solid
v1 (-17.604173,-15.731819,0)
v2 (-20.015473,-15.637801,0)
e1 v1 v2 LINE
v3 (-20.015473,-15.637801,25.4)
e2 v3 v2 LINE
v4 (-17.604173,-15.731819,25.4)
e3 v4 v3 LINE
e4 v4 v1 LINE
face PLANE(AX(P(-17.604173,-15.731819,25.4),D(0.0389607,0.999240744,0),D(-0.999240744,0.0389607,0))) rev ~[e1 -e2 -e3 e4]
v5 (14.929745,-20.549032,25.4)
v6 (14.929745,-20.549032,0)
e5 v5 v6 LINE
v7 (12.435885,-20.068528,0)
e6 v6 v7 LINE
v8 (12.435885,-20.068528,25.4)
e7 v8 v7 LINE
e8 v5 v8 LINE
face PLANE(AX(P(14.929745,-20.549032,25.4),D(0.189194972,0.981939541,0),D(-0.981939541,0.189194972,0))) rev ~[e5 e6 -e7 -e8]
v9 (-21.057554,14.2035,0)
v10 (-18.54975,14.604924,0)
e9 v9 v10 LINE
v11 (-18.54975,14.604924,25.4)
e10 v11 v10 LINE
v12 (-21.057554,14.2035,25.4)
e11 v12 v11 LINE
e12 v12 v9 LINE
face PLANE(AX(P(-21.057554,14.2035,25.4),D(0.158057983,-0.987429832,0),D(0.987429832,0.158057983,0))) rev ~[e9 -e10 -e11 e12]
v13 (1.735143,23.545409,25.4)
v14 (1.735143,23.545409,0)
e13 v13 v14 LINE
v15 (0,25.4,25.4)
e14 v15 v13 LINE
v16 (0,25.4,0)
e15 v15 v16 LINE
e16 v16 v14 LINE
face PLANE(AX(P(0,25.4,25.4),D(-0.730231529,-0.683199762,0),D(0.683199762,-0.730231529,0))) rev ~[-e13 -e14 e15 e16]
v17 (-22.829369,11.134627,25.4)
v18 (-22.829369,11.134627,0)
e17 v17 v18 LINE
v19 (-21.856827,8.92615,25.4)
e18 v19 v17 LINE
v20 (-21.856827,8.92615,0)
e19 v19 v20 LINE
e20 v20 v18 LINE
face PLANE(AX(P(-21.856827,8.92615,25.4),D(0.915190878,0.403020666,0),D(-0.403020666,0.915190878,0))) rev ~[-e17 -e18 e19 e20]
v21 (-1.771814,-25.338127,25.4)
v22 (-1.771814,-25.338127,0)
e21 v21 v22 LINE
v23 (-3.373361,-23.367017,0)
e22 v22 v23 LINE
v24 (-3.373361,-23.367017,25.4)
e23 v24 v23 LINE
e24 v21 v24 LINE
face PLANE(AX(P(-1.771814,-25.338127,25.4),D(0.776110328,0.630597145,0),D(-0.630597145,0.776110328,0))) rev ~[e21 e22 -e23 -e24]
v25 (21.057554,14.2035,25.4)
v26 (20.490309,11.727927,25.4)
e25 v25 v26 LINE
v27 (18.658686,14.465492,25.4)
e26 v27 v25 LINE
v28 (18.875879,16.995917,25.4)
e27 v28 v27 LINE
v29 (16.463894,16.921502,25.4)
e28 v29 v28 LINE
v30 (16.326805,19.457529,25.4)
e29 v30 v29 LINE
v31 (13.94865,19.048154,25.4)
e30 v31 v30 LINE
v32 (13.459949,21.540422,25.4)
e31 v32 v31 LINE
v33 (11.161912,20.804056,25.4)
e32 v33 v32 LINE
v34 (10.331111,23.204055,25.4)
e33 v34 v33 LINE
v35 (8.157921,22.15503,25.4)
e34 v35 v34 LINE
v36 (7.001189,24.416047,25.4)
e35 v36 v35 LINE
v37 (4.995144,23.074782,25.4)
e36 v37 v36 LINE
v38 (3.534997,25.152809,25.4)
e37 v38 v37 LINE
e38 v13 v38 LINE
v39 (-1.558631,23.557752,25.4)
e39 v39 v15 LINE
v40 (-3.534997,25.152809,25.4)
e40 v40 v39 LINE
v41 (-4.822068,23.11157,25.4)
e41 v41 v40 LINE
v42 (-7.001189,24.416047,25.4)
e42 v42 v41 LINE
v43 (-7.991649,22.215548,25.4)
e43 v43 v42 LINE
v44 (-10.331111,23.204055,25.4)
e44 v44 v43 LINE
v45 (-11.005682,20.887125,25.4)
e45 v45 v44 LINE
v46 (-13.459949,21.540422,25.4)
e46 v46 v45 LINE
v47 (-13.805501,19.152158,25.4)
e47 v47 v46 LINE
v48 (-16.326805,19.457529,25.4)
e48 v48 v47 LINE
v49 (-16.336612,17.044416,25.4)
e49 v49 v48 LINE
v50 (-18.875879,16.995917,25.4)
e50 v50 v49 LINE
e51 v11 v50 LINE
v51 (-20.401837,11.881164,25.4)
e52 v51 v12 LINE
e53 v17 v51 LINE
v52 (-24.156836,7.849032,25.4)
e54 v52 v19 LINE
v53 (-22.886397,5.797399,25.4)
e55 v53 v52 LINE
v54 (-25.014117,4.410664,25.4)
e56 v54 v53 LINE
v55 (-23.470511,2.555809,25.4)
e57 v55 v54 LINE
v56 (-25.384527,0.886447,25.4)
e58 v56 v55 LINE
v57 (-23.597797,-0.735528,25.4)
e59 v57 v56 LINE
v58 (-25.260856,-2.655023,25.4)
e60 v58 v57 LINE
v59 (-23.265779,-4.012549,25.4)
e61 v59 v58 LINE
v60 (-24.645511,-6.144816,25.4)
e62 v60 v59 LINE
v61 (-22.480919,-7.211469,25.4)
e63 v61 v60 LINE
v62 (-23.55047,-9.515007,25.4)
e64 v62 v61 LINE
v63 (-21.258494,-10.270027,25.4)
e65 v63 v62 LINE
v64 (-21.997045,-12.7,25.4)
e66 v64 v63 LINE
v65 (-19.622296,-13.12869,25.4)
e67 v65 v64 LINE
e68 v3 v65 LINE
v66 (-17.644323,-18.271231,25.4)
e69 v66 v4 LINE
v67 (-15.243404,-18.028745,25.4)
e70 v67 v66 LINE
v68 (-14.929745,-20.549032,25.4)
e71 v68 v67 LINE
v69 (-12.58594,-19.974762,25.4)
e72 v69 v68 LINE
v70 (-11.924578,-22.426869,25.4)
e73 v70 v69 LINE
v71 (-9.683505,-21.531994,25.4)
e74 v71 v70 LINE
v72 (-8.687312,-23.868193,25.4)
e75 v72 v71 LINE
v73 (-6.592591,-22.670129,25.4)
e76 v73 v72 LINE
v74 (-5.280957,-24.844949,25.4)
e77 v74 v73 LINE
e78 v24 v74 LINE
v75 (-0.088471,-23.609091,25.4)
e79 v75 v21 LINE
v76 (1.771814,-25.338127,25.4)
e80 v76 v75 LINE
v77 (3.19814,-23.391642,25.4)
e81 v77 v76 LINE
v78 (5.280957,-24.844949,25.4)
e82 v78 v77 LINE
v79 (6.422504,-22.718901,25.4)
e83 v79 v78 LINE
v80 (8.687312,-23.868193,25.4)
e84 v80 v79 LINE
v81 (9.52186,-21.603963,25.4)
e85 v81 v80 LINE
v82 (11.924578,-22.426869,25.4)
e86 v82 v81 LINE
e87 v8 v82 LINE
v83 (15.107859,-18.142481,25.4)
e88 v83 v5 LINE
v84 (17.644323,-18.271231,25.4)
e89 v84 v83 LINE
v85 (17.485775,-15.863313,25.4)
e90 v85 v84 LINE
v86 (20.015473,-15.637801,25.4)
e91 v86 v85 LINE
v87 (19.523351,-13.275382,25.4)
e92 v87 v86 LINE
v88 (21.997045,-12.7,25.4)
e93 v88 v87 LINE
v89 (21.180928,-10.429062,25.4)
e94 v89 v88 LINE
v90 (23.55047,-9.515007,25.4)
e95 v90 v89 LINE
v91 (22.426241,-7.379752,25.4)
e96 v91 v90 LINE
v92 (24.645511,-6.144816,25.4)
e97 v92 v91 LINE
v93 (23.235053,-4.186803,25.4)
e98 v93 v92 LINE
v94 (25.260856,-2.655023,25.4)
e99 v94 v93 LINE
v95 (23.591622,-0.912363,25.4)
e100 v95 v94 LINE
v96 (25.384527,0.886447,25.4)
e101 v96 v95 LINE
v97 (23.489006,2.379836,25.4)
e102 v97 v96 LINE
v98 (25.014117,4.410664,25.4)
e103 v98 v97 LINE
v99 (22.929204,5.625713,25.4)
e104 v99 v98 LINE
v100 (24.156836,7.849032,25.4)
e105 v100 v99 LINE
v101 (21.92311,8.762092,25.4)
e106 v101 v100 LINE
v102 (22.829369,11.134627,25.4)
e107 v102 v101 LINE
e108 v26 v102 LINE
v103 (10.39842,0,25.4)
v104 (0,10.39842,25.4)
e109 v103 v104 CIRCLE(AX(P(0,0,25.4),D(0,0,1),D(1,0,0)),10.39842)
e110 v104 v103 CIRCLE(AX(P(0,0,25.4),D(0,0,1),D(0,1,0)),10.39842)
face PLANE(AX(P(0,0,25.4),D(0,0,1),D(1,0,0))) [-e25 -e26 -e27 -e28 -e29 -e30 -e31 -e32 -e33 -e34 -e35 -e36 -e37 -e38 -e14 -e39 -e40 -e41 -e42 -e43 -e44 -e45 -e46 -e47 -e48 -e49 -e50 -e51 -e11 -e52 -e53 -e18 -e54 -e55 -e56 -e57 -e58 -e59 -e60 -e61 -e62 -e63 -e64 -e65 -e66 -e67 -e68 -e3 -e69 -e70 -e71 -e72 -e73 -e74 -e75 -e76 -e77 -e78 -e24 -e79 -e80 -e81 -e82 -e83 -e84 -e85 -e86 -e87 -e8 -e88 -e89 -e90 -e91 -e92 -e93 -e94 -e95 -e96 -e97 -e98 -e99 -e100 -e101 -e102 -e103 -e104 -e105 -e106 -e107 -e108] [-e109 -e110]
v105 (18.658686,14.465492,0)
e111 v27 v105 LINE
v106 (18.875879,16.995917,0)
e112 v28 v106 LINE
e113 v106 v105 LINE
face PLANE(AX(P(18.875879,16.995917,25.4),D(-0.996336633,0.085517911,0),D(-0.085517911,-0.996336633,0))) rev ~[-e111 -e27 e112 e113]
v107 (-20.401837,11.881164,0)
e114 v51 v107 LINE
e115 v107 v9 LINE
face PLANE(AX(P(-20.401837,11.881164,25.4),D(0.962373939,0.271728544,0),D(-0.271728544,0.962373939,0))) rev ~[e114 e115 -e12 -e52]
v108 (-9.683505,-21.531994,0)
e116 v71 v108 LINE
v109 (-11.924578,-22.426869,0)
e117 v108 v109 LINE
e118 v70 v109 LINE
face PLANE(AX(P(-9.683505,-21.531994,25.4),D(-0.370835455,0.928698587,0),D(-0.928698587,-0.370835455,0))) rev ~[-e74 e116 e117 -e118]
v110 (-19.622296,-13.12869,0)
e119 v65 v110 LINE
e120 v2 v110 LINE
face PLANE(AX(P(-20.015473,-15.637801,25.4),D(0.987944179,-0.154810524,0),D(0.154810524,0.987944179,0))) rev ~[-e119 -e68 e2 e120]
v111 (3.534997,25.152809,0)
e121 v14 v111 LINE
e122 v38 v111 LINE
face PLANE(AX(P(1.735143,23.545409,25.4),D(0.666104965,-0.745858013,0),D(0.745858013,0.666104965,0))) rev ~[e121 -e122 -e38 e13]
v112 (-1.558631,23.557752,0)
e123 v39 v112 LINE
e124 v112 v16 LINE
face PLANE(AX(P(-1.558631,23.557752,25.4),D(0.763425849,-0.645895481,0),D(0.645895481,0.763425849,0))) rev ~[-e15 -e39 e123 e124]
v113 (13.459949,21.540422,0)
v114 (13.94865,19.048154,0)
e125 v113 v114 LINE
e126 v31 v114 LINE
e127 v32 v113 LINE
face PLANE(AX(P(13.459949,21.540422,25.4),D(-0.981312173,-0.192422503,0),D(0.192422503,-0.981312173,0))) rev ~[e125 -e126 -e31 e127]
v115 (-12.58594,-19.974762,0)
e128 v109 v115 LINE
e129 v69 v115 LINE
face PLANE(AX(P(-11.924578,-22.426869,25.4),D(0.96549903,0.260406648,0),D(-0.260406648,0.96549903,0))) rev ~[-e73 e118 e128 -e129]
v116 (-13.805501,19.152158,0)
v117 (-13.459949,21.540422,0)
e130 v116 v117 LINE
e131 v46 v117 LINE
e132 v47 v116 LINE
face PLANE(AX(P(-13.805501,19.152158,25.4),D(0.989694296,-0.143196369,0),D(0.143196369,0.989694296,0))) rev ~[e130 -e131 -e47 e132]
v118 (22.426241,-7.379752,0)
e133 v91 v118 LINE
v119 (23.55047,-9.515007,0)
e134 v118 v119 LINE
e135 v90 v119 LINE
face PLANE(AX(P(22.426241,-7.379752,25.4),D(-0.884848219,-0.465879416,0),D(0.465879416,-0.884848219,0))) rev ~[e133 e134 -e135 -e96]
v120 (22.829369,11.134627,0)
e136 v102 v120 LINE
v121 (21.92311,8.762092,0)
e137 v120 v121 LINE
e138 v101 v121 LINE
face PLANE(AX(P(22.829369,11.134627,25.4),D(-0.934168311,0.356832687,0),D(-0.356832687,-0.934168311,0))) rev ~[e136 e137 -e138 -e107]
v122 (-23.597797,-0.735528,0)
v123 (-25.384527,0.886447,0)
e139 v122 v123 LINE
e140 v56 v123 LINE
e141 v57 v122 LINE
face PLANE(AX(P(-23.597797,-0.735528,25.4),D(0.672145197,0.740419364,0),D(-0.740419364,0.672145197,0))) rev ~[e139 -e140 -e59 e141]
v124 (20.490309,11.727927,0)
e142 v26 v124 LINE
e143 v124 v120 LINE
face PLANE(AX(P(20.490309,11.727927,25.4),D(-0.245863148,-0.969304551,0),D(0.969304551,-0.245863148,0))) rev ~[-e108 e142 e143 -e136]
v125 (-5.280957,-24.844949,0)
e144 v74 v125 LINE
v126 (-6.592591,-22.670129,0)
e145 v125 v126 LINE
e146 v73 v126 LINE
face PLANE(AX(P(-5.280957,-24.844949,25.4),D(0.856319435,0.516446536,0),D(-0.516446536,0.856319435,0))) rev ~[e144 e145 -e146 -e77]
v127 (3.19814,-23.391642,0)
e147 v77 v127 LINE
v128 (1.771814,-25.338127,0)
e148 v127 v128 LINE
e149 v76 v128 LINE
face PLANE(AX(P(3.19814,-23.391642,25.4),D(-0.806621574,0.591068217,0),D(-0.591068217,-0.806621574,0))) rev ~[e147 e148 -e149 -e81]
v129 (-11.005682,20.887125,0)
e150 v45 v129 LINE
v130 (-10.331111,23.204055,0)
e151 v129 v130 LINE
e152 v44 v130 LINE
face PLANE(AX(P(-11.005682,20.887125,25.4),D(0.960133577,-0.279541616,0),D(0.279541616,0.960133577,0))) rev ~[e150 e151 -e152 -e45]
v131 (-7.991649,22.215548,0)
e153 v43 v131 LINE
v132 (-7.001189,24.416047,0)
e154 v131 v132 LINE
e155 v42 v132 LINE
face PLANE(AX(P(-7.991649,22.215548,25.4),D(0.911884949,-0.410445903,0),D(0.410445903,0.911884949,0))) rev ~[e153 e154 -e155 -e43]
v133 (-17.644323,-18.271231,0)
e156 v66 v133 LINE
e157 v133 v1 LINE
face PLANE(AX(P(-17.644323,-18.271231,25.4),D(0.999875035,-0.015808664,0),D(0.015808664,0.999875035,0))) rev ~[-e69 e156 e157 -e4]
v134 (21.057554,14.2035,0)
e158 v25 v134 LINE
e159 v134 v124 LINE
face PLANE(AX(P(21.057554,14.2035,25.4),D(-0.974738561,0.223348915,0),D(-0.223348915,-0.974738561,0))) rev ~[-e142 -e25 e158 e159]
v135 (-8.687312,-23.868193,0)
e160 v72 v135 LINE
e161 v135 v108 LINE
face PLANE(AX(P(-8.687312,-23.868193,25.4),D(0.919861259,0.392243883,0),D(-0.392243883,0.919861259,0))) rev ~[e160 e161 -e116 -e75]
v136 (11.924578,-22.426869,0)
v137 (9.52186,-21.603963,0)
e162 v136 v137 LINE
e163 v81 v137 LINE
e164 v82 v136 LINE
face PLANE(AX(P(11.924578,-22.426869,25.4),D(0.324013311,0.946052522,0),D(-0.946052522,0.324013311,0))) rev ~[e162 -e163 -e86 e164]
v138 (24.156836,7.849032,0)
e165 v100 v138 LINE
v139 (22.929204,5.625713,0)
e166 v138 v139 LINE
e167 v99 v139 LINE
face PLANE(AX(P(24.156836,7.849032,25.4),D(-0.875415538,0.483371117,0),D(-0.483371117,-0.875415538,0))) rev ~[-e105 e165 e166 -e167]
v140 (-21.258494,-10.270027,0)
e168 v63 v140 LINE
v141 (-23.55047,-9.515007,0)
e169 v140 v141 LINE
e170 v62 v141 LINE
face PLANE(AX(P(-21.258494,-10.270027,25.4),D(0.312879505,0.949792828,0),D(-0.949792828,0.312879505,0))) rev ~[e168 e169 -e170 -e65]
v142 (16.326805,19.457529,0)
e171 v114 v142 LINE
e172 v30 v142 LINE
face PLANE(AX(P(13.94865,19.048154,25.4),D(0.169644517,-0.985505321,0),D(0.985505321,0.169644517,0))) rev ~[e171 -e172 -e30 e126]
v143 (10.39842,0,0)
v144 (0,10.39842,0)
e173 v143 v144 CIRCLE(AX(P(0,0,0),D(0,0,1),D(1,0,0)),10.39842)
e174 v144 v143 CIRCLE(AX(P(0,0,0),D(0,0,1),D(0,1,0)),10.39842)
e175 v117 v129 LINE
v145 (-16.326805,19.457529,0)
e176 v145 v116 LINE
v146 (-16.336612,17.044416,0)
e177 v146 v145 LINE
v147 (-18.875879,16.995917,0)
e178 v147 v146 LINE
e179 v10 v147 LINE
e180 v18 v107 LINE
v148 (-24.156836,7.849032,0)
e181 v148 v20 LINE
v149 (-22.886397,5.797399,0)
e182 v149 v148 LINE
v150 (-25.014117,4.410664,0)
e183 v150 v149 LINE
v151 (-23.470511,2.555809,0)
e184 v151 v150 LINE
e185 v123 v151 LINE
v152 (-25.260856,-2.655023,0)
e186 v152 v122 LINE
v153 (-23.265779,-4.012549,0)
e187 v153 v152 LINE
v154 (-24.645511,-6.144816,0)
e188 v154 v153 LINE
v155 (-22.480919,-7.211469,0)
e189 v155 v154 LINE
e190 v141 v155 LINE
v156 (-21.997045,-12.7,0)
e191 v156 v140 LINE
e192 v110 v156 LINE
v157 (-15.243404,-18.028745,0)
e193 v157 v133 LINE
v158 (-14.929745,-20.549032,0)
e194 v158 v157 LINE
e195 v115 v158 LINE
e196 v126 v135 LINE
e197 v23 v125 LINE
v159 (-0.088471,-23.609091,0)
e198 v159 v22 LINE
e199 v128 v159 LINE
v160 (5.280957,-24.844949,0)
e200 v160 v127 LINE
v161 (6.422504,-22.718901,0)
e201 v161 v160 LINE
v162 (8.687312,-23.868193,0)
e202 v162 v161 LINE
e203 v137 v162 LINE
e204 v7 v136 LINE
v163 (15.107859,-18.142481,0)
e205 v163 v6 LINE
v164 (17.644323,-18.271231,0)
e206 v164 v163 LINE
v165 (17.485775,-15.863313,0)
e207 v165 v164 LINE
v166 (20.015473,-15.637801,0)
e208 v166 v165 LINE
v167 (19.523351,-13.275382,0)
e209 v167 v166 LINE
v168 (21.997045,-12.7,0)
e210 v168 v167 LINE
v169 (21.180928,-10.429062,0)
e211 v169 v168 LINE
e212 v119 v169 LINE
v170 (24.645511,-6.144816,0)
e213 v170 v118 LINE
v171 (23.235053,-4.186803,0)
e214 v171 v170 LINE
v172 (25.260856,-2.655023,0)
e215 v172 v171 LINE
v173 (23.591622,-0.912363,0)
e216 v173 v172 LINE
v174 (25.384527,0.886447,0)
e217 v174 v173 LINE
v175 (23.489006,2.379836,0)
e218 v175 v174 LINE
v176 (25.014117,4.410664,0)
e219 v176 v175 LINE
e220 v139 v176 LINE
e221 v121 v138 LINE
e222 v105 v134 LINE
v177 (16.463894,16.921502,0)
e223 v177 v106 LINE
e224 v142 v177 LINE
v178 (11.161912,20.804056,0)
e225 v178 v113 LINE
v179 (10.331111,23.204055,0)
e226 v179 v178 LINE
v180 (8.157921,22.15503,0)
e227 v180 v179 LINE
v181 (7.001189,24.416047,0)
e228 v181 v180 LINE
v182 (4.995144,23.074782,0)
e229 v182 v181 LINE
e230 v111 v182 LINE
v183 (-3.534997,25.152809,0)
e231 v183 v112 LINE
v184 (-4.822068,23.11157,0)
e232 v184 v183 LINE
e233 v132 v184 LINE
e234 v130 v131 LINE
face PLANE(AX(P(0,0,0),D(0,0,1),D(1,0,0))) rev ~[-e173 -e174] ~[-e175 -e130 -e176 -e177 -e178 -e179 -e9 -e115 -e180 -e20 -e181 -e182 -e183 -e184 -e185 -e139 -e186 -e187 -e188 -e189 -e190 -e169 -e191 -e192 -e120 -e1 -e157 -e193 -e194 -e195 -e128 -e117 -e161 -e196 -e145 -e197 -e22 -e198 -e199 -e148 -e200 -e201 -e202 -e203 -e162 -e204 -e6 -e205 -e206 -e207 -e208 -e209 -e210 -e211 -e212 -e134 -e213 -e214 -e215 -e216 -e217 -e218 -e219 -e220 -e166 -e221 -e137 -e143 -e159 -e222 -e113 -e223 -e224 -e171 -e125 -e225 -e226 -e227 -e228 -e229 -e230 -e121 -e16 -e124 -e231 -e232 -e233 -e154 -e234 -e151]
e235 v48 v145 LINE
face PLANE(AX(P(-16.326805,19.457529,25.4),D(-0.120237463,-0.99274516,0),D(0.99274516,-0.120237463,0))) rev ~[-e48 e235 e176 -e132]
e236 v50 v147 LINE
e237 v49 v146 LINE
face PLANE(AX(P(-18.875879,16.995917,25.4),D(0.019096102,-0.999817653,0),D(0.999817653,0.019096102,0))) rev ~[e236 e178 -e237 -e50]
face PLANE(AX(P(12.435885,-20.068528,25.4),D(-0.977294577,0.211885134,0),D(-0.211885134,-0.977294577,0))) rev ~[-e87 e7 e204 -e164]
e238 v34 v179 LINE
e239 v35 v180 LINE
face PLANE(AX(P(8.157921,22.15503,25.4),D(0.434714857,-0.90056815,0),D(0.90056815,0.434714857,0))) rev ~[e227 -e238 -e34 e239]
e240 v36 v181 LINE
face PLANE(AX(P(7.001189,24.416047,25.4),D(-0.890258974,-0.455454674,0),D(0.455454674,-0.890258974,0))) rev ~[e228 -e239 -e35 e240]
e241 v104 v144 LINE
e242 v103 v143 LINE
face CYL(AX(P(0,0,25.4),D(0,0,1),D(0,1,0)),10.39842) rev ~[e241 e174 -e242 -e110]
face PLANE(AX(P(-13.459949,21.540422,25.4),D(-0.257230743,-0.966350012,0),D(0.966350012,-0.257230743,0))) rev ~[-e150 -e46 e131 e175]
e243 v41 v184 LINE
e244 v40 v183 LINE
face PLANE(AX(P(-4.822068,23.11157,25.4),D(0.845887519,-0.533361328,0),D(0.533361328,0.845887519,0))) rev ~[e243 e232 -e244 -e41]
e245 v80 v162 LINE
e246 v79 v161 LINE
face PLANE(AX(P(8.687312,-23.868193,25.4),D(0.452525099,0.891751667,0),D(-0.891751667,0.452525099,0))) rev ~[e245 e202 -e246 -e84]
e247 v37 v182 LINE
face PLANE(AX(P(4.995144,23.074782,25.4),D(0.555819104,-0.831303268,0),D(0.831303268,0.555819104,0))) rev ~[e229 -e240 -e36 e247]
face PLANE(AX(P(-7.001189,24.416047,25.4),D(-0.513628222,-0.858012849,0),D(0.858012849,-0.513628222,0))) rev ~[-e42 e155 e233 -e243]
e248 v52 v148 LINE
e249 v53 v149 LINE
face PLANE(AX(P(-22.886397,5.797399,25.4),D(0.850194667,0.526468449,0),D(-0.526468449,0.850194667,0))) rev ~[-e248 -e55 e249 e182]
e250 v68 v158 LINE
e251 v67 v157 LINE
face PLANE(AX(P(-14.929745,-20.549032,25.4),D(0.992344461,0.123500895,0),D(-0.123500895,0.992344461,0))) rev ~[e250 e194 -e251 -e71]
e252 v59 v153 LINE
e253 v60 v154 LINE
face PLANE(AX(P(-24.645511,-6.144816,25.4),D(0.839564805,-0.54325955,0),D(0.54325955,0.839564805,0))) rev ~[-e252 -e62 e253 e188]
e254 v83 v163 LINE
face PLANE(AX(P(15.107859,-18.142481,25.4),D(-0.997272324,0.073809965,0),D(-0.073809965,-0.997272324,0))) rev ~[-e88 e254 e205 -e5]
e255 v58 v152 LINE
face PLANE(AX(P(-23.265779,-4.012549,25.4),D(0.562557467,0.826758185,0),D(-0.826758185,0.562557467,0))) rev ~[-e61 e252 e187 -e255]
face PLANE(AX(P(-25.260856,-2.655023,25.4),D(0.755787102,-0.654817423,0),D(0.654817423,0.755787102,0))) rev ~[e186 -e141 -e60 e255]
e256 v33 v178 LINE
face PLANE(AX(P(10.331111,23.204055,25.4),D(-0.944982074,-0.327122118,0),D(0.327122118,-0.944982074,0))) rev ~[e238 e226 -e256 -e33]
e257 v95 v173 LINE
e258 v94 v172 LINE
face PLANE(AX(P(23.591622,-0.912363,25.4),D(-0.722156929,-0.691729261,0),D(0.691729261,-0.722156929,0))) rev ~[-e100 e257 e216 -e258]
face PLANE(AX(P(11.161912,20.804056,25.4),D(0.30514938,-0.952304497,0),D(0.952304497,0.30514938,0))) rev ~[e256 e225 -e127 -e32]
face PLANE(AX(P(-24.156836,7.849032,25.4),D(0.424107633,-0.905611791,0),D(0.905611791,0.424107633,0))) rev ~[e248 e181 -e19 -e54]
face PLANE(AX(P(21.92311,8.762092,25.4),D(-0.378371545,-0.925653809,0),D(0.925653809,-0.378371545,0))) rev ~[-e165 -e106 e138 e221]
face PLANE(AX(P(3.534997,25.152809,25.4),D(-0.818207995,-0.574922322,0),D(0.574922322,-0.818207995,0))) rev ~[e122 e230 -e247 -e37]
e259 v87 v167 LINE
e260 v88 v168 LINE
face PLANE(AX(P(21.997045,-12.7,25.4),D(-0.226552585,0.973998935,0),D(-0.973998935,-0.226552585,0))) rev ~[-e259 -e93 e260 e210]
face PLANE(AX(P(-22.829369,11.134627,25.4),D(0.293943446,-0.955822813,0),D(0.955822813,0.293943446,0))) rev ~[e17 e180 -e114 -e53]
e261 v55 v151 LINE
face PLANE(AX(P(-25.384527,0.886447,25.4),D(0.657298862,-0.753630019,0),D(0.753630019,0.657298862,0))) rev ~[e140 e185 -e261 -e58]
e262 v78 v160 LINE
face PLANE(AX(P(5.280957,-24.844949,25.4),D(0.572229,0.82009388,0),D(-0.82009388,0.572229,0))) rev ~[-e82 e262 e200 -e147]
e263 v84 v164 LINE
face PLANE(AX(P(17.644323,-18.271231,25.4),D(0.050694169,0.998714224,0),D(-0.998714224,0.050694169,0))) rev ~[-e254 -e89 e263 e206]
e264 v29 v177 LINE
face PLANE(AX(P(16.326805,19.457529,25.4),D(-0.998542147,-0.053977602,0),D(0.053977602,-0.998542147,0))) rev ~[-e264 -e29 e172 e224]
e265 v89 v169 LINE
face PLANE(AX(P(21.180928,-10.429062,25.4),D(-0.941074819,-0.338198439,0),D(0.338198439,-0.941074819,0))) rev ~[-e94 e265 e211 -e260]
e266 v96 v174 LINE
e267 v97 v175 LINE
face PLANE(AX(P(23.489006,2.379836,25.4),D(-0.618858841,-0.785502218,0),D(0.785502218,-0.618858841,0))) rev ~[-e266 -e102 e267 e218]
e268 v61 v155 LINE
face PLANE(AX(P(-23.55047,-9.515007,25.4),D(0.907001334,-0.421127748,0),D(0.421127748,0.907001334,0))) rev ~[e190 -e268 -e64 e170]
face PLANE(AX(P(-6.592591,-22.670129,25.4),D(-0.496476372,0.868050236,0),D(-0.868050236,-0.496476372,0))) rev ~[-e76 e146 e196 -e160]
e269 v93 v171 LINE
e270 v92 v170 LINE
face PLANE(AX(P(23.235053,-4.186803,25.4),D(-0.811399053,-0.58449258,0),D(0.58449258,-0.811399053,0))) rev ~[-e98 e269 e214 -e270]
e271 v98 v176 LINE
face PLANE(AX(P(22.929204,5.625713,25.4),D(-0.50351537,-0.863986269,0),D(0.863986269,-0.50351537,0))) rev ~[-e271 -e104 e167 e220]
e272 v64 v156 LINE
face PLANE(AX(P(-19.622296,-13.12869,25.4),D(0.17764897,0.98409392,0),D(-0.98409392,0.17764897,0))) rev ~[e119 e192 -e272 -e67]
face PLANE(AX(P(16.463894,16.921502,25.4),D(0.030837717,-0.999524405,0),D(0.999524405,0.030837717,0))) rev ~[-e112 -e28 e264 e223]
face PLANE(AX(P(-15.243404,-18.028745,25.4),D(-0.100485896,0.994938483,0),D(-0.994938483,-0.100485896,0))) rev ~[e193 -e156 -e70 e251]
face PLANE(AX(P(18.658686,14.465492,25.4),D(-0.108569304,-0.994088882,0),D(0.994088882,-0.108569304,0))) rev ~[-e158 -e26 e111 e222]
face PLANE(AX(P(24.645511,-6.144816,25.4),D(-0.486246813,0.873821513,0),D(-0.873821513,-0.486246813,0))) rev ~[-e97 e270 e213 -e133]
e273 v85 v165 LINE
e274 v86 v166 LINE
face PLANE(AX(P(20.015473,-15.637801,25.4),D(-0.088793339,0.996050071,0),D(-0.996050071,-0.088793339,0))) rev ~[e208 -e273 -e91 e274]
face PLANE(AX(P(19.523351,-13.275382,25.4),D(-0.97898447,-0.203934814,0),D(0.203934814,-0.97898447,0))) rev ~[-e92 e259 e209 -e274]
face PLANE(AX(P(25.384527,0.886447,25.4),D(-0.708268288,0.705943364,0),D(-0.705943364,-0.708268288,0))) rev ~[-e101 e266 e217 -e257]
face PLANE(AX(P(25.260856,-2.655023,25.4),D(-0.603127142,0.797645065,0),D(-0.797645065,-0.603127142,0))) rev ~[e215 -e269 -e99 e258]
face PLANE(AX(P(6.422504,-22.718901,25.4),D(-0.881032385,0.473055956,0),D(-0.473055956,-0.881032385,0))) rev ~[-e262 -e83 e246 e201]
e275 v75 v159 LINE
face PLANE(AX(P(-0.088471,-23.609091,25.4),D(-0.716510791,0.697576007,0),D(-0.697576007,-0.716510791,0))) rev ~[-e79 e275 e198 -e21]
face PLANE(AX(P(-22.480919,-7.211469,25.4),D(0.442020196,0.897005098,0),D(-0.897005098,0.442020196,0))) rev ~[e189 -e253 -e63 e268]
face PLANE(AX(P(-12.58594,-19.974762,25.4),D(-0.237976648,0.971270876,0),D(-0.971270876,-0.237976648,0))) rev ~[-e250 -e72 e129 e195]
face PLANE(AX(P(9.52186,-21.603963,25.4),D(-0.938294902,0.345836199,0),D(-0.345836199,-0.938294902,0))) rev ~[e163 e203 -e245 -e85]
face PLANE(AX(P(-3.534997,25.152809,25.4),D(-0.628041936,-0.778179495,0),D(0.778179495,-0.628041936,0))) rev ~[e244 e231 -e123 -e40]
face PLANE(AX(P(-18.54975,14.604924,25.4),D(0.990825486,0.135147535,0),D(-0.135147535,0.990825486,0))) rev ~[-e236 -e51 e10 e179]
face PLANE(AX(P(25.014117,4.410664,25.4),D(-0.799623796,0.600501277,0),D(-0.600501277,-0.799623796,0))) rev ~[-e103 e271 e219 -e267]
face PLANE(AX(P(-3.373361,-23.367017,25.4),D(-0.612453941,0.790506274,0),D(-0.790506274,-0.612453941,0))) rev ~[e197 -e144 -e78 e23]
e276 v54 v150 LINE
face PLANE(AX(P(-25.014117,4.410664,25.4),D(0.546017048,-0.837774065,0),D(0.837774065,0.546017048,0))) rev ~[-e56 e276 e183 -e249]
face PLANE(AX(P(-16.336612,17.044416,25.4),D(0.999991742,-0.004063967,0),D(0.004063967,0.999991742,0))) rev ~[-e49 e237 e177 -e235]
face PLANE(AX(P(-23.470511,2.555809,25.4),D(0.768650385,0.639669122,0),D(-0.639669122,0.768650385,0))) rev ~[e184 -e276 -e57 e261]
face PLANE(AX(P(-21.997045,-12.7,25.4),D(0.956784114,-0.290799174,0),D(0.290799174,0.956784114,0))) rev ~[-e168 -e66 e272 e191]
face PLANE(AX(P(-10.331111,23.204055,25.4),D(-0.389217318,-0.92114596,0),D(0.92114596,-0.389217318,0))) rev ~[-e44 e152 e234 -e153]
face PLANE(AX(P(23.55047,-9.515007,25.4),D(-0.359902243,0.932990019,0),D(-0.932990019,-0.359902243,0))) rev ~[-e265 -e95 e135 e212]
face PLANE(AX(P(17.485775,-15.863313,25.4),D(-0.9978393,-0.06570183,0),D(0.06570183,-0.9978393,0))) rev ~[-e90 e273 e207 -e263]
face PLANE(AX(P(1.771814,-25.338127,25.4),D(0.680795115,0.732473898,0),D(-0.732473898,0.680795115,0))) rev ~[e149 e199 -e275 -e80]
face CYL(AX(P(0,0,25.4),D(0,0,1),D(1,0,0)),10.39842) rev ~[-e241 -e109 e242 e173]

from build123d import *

# Parameters (mm, degrees)
F0_R     = 25.4
F1_DEPTH = 25.4
F3_DEPTH = 25.4
F4_DEPTH = 25.4


with BuildPart() as f1:
    # F0 (on Top) → F1 (new body)
    with BuildSketch(Plane.XY):
        Circle(F0_R)
    extrude(amount=F1_DEPTH)

    # F2 (on face) → F3 (cut)
    with BuildSketch(Plane.XY.offset(25.4)):
        with BuildLine():
            Line((-3.3733606068, -23.3670165801), (-5.2809569468, -24.8449490586))
            ThreePointArc((-5.2809569468, -24.8449490586), (-3.5349967644, -25.152808946), (-1.7718144331, -25.3381268766))
            Line((-1.7718144331, -25.3381268766), (-3.3733606068, -23.3670165801))
        make_face()
        with BuildLine():
            Line((-0.0884711356, -23.6090914373), (-1.7718144331, -25.3381268766))
            ThreePointArc((-1.7718144331, -25.3381268766), (0, -25.4), (1.7718144331, -25.3381268766))
            Line((1.7718144331, -25.3381268766), (-0.0884711356, -23.6090914373))
        make_face()
        with BuildLine():
            ThreePointArc((1.7718144331, -25.3381268766), (3.5349967644, -25.152808946), (5.2809569468, -24.8449490586))
            Line((5.2809569468, -24.8449490586), (3.1981403256, -23.3916421847))
            Line((3.1981403256, -23.3916421847), (1.7718144331, -25.3381268766))
        make_face()
        with BuildLine():
            ThreePointArc((5.2809569468, -24.8449490586), (7.0011888378, -24.4160470768), (8.6873116405, -23.868192568))
            Line((8.6873116405, -23.868192568), (6.4225036232, -22.7189012245))
            Line((6.4225036232, -22.7189012245), (5.2809569468, -24.8449490586))
        make_face()
        with BuildLine():
            ThreePointArc((8.6873116405, -23.868192568), (10.3311107341, -23.2040546241), (11.9245776948, -22.4268688586))
            Line((11.9245776948, -22.4268688586), (9.5218601932, -21.6039626944))
            Line((9.5218601932, -21.6039626944), (8.6873116405, -23.868192568))
        make_face()
        with BuildLine():
            ThreePointArc((11.9245776948, -22.4268688586), (13.4599493115, -21.5404216424), (14.9297454082, -20.5490316571))
            Line((14.9297454082, -20.5490316571), (12.4358845856, -20.0685276045))
            Line((12.4358845856, -20.0685276045), (11.9245776948, -22.4268688586))
        make_face()
        with BuildLine():
            ThreePointArc((14.9297454082, -20.5490316571), (16.326805286, -19.4575288552), (17.6443226097, -18.2712309286))
            Line((17.6443226097, -18.2712309286), (15.1078586301, -18.1424814524))
            Line((15.1078586301, -18.1424814524), (14.9297454082, -20.5490316571))
        make_face()
        with BuildLine():
            ThreePointArc((17.6443226097, -18.2712309286), (18.8758785671, -16.9959174015), (20.0154731416, -15.6378014733))
            Line((20.0154731416, -15.6378014733), (17.4857753913, -15.8633125357))
            Line((17.4857753913, -15.8633125357), (17.6443226097, -18.2712309286))
        make_face()
        with BuildLine():
            ThreePointArc((20.0154731416, -15.6378014733), (21.0575543429, -14.2034997482), (21.9970452561, -12.7))
            Line((21.9970452561, -12.7), (19.5233514242, -13.2753822847))
            Line((19.5233514242, -13.2753822847), (20.0154731416, -15.6378014733))
        make_face()
        with BuildLine():
            ThreePointArc((21.9970452561, -12.7), (22.829368776, -11.1346271284), (23.550469906, -9.5150074728))
            Line((23.550469906, -9.5150074728), (21.1809276292, -10.429061818))
            Line((21.1809276292, -10.429061818), (21.9970452561, -12.7))
        make_face()
        with BuildLine():
            ThreePointArc((23.550469906, -9.5150074728), (24.1568355139, -7.8490316571), (24.6455114474, -6.1448161482))
            Line((24.6455114474, -6.1448161482), (22.4262411709, -7.3797515259))
            Line((22.4262411709, -7.3797515259), (23.550469906, -9.5150074728))
        make_face()
        with BuildLine():
            ThreePointArc((24.6455114474, -6.1448161482), (25.0141169265, -4.4106637127), (25.2608561424, -2.655022967))
            Line((25.2608561424, -2.655022967), (23.2350534376, -4.1868027647))
            Line((23.2350534376, -4.1868027647), (24.6455114474, -6.1448161482))
        make_face()
        with BuildLine():
            ThreePointArc((25.4, 0), (25.396131457, 0.4432911235), (25.3845270063, 0.8864472162))
            Line((25.3845270063, 0.8864472162), (23.5916218186, -0.9123626502))
            Line((23.5916218186, -0.9123626502), (25.2608561424, -2.655022967))
            ThreePointArc((25.2608561424, -2.655022967), (25.3651901828, -1.3293332886), (25.4, 0))
        make_face()
        with BuildLine():
            ThreePointArc((25.3845270063, 0.8864472162), (25.2608561424, 2.655022967), (25.0141169265, 4.4106637127))
            Line((25.0141169265, 4.4106637127), (23.489006116, 2.3798355656))
            Line((23.489006116, 2.3798355656), (25.3845270063, 0.8864472162))
        make_face()
        with BuildLine():
            ThreePointArc((25.0141169265, 4.4106637127), (24.6455114474, 6.1448161482), (24.1568355139, 7.8490316571))
            Line((24.1568355139, 7.8490316571), (22.9292036277, 5.6257129891))
            Line((22.9292036277, 5.6257129891), (25.0141169265, 4.4106637127))
        make_face()
        with BuildLine():
            ThreePointArc((24.1568355139, 7.8490316571), (23.550469906, 9.5150074728), (22.829368776, 11.1346271284))
            Line((22.829368776, 11.1346271284), (21.9231102724, 8.7620923084))
            Line((21.9231102724, 8.7620923084), (24.1568355139, 7.8490316571))
        make_face()
        with BuildLine():
            ThreePointArc((22.829368776, 11.1346271284), (21.9970452561, 12.7), (21.0575543429, 14.2034997482))
            Line((21.0575543429, 14.2034997482), (20.4903085128, 11.7279274677))
            Line((20.4903085128, 11.7279274677), (22.829368776, 11.1346271284))
        make_face()
        with BuildLine():
            ThreePointArc((21.0575543429, 14.2034997482), (20.0154731416, 15.6378014733), (18.8758785671, 16.9959174015))
            Line((18.8758785671, 16.9959174015), (18.6586862054, 14.4654918592))
            Line((18.6586862054, 14.4654918592), (21.0575543429, 14.2034997482))
        make_face()
        with BuildLine():
            ThreePointArc((18.8758785671, 16.9959174015), (17.6443226097, 18.2712309286), (16.326805286, 19.4575288552))
            Line((16.326805286, 19.4575288552), (16.4638937949, 16.9215019058))
            Line((16.4638937949, 16.9215019058), (18.8758785671, 16.9959174015))
        make_face()
        with BuildLine():
            ThreePointArc((16.326805286, 19.4575288552), (14.9297454082, 20.5490316571), (13.4599493115, 21.5404216424))
            Line((13.4599493115, 21.5404216424), (13.9486504191, 19.0481541658))
            Line((13.9486504191, 19.0481541658), (16.326805286, 19.4575288552))
        make_face()
        with BuildLine():
            ThreePointArc((13.4599493115, 21.5404216424), (11.9245776948, 22.4268688586), (10.3311107341, 23.2040546241))
            Line((10.3311107341, 23.2040546241), (11.1619124293, 20.8040557719))
            Line((11.1619124293, 20.8040557719), (13.4599493115, 21.5404216424))
        make_face()
        with BuildLine():
            ThreePointArc((10.3311107341, 23.2040546241), (8.6873116405, 23.868192568), (7.0011888378, 24.4160470768))
            Line((7.0011888378, 24.4160470768), (8.1579205105, 22.1550300966))
            Line((8.1579205105, 22.1550300966), (10.3311107341, 23.2040546241))
        make_face()
        with BuildLine():
            ThreePointArc((7.0011888378, 24.4160470768), (5.2809569468, 24.8449490586), (3.5349967644, 25.152808946))
            Line((3.5349967644, 25.152808946), (4.9951439484, 23.0747819615))
            Line((4.9951439484, 23.0747819615), (7.0011888378, 24.4160470768))
        make_face()
        with BuildLine():
            ThreePointArc((3.5349967644, 25.152808946), (1.7718144331, 25.3381268766), (0, 25.4))
            Line((0, 25.4), (1.7351425913, 23.5454094427))
            Line((1.7351425913, 23.5454094427), (3.5349967644, 25.152808946))
        make_face()
        with BuildLine():
            Line((-1.5586313426, 23.5577523116), (0, 25.4))
            ThreePointArc((0, 25.4), (-1.7718144331, 25.3381268766), (-3.5349967644, 25.152808946))
            Line((-3.5349967644, 25.152808946), (-1.5586313426, 23.5577523116))
        make_face()
        with BuildLine():
            Line((-4.8220682904, 23.1115703283), (-3.5349967644, 25.152808946))
            ThreePointArc((-3.5349967644, 25.152808946), (-5.2809569468, 24.8449490586), (-7.0011888378, 24.4160470768))
            Line((-7.0011888378, 24.4160470768), (-4.8220682904, 23.1115703283))
        make_face()
        with BuildLine():
            Line((-7.9916491639, 22.2155479176), (-7.0011888378, 24.4160470768))
            ThreePointArc((-7.0011888378, 24.4160470768), (-8.6873116405, 23.868192568), (-10.3311107341, 23.2040546241))
            Line((-10.3311107341, 23.2040546241), (-7.9916491639, 22.2155479176))
        make_face()
        with BuildLine():
            Line((-11.0056816768, 20.8871251365), (-10.3311107341, 23.2040546241))
            ThreePointArc((-10.3311107341, 23.2040546241), (-11.9245776948, 22.4268688586), (-13.4599493115, 21.5404216424))
            Line((-13.4599493115, 21.5404216424), (-11.0056816768, 20.8871251365))
        make_face()
        with BuildLine():
            Line((-13.8055011147, 19.1521582233), (-13.4599493115, 21.5404216424))
            ThreePointArc((-13.4599493115, 21.5404216424), (-14.9297454082, 20.5490316571), (-16.326805286, 19.4575288552))
            Line((-16.326805286, 19.4575288552), (-13.8055011147, 19.1521582233))
        make_face()
        with BuildLine():
            Line((-16.3366121768, 17.0444163356), (-16.326805286, 19.4575288552))
            ThreePointArc((-16.326805286, 19.4575288552), (-17.6443226097, 18.2712309286), (-18.8758785671, 16.9959174015))
            Line((-18.8758785671, 16.9959174015), (-16.3366121768, 17.0444163356))
        make_face()
        with BuildLine():
            Line((-18.5497496656, 14.6049242717), (-18.8758785671, 16.9959174015))
            ThreePointArc((-18.8758785671, 16.9959174015), (-20.0154731416, 15.6378014733), (-21.0575543429, 14.2034997482))
            Line((-21.0575543429, 14.2034997482), (-18.5497496656, 14.6049242717))
        make_face()
        with BuildLine():
            Line((-20.4018373772, 11.8811639696), (-21.0575543429, 14.2034997482))
            ThreePointArc((-21.0575543429, 14.2034997482), (-21.9970452561, 12.7), (-22.829368776, 11.1346271284))
            Line((-22.829368776, 11.1346271284), (-20.4018373772, 11.8811639696))
        make_face()
        with BuildLine():
            Line((-21.856826531, 8.9261503255), (-22.829368776, 11.1346271284))
            ThreePointArc((-22.829368776, 11.1346271284), (-23.550469906, 9.5150074728), (-24.1568355139, 7.8490316571))
            Line((-24.1568355139, 7.8490316571), (-21.856826531, 8.9261503255))
        make_face()
        with BuildLine():
            Line((-22.8863974181, 5.7973993187), (-24.1568355139, 7.8490316571))
            ThreePointArc((-24.1568355139, 7.8490316571), (-24.6455114474, 6.1448161482), (-25.0141169265, 4.4106637127))
            Line((-25.0141169265, 4.4106637127), (-22.8863974181, 5.7973993187))
        make_face()
        with BuildLine():
            Line((-23.4705106123, 2.5558085286), (-25.0141169265, 4.4106637127))
            ThreePointArc((-25.0141169265, 4.4106637127), (-25.2608561424, 2.655022967), (-25.3845270063, 0.8864472162))
            Line((-25.3845270063, 0.8864472162), (-23.4705106123, 2.5558085286))
        make_face()
        with BuildLine():
            Line((-23.5977970148, -0.7355281674), (-25.3845270063, 0.8864472162))
            ThreePointArc((-25.3845270063, 0.8864472162), (-25.3845270063, -0.8864472162), (-25.2608561424, -2.655022967))
            Line((-25.2608561424, -2.655022967), (-23.5977970148, -0.7355281674))
        make_face()
        with BuildLine():
            Line((-23.2657791405, -4.0125486442), (-25.2608561424, -2.655022967))
            ThreePointArc((-25.2608561424, -2.655022967), (-25.0141169265, -4.4106637127), (-24.6455114474, -6.1448161482))
            Line((-24.6455114474, -6.1448161482), (-23.2657791405, -4.0125486442))
        make_face()
        with BuildLine():
            Line((-22.4809193397, -7.2114694259), (-24.6455114474, -6.1448161482))
            ThreePointArc((-24.6455114474, -6.1448161482), (-24.1568355139, -7.8490316571), (-23.550469906, -9.5150074728))
            Line((-23.550469906, -9.5150074728), (-22.4809193397, -7.2114694259))
        make_face()
        with BuildLine():
            Line((-21.2584940156, -10.2700271581), (-23.550469906, -9.5150074728))
            ThreePointArc((-23.550469906, -9.5150074728), (-22.829368776, -11.1346271284), (-21.9970452561, -12.7))
            Line((-21.9970452561, -12.7), (-21.2584940156, -10.2700271581))
        make_face()
        with BuildLine():
            Line((-19.6222962866, -13.1286904936), (-21.9970452561, -12.7))
            ThreePointArc((-21.9970452561, -12.7), (-21.0575543429, -14.2034997482), (-20.0154731416, -15.6378014733))
            Line((-20.0154731416, -15.6378014733), (-19.6222962866, -13.1286904936))
        make_face()
        with BuildLine():
            Line((-17.6041728805, -15.7318188024), (-20.0154731416, -15.6378014733))
            ThreePointArc((-20.0154731416, -15.6378014733), (-18.8758785671, -16.9959174015), (-17.6443226097, -18.2712309286))
            Line((-17.6443226097, -18.2712309286), (-17.6041728805, -15.7318188024))
        make_face()
        with BuildLine():
            Line((-15.2434042737, -18.0287451529), (-17.6443226097, -18.2712309286))
            ThreePointArc((-17.6443226097, -18.2712309286), (-16.326805286, -19.4575288552), (-14.9297454082, -20.5490316571))
            Line((-14.9297454082, -20.5490316571), (-15.2434042737, -18.0287451529))
        make_face()
        with BuildLine():
            Line((-12.5859401418, -19.9747624863), (-14.9297454082, -20.5490316571))
            ThreePointArc((-14.9297454082, -20.5490316571), (-13.4599493115, -21.5404216424), (-11.9245776948, -22.4268688586))
            Line((-11.9245776948, -22.4268688586), (-12.5859401418, -19.9747624863))
        make_face()
        with BuildLine():
            Line((-9.6835050014, -21.5319937889), (-11.9245776948, -22.4268688586))
            ThreePointArc((-11.9245776948, -22.4268688586), (-10.3311107341, -23.2040546241), (-8.6873116405, -23.868192568))
            Line((-8.6873116405, -23.868192568), (-9.6835050014, -21.5319937889))
        make_face()
        with BuildLine():
            Line((-6.5925914509, -22.6701293247), (-8.6873116405, -23.868192568))
            ThreePointArc((-8.6873116405, -23.868192568), (-7.0011888378, -24.4160470768), (-5.2809569468, -24.8449490586))
            Line((-5.2809569468, -24.8449490586), (-6.5925914509, -22.6701293247))
        make_face()
    extrude(amount=-F3_DEPTH, mode=Mode.SUBTRACT)

    # F2 (on face) → F4 (cut)
    with BuildSketch(Plane.XY.offset(25.4)):
        with BuildLine():
            ThreePointArc((10.3984196314, 0), (7.352793035, 7.352793035), (0, 10.3984196314))
            ThreePointArc((0, 10.3984196314), (-7.352793035, -7.352793035), (10.3984196314, 0))
        make_face()
    extrude(amount=-F4_DEPTH, mode=Mode.SUBTRACT)


solid = f1.part
